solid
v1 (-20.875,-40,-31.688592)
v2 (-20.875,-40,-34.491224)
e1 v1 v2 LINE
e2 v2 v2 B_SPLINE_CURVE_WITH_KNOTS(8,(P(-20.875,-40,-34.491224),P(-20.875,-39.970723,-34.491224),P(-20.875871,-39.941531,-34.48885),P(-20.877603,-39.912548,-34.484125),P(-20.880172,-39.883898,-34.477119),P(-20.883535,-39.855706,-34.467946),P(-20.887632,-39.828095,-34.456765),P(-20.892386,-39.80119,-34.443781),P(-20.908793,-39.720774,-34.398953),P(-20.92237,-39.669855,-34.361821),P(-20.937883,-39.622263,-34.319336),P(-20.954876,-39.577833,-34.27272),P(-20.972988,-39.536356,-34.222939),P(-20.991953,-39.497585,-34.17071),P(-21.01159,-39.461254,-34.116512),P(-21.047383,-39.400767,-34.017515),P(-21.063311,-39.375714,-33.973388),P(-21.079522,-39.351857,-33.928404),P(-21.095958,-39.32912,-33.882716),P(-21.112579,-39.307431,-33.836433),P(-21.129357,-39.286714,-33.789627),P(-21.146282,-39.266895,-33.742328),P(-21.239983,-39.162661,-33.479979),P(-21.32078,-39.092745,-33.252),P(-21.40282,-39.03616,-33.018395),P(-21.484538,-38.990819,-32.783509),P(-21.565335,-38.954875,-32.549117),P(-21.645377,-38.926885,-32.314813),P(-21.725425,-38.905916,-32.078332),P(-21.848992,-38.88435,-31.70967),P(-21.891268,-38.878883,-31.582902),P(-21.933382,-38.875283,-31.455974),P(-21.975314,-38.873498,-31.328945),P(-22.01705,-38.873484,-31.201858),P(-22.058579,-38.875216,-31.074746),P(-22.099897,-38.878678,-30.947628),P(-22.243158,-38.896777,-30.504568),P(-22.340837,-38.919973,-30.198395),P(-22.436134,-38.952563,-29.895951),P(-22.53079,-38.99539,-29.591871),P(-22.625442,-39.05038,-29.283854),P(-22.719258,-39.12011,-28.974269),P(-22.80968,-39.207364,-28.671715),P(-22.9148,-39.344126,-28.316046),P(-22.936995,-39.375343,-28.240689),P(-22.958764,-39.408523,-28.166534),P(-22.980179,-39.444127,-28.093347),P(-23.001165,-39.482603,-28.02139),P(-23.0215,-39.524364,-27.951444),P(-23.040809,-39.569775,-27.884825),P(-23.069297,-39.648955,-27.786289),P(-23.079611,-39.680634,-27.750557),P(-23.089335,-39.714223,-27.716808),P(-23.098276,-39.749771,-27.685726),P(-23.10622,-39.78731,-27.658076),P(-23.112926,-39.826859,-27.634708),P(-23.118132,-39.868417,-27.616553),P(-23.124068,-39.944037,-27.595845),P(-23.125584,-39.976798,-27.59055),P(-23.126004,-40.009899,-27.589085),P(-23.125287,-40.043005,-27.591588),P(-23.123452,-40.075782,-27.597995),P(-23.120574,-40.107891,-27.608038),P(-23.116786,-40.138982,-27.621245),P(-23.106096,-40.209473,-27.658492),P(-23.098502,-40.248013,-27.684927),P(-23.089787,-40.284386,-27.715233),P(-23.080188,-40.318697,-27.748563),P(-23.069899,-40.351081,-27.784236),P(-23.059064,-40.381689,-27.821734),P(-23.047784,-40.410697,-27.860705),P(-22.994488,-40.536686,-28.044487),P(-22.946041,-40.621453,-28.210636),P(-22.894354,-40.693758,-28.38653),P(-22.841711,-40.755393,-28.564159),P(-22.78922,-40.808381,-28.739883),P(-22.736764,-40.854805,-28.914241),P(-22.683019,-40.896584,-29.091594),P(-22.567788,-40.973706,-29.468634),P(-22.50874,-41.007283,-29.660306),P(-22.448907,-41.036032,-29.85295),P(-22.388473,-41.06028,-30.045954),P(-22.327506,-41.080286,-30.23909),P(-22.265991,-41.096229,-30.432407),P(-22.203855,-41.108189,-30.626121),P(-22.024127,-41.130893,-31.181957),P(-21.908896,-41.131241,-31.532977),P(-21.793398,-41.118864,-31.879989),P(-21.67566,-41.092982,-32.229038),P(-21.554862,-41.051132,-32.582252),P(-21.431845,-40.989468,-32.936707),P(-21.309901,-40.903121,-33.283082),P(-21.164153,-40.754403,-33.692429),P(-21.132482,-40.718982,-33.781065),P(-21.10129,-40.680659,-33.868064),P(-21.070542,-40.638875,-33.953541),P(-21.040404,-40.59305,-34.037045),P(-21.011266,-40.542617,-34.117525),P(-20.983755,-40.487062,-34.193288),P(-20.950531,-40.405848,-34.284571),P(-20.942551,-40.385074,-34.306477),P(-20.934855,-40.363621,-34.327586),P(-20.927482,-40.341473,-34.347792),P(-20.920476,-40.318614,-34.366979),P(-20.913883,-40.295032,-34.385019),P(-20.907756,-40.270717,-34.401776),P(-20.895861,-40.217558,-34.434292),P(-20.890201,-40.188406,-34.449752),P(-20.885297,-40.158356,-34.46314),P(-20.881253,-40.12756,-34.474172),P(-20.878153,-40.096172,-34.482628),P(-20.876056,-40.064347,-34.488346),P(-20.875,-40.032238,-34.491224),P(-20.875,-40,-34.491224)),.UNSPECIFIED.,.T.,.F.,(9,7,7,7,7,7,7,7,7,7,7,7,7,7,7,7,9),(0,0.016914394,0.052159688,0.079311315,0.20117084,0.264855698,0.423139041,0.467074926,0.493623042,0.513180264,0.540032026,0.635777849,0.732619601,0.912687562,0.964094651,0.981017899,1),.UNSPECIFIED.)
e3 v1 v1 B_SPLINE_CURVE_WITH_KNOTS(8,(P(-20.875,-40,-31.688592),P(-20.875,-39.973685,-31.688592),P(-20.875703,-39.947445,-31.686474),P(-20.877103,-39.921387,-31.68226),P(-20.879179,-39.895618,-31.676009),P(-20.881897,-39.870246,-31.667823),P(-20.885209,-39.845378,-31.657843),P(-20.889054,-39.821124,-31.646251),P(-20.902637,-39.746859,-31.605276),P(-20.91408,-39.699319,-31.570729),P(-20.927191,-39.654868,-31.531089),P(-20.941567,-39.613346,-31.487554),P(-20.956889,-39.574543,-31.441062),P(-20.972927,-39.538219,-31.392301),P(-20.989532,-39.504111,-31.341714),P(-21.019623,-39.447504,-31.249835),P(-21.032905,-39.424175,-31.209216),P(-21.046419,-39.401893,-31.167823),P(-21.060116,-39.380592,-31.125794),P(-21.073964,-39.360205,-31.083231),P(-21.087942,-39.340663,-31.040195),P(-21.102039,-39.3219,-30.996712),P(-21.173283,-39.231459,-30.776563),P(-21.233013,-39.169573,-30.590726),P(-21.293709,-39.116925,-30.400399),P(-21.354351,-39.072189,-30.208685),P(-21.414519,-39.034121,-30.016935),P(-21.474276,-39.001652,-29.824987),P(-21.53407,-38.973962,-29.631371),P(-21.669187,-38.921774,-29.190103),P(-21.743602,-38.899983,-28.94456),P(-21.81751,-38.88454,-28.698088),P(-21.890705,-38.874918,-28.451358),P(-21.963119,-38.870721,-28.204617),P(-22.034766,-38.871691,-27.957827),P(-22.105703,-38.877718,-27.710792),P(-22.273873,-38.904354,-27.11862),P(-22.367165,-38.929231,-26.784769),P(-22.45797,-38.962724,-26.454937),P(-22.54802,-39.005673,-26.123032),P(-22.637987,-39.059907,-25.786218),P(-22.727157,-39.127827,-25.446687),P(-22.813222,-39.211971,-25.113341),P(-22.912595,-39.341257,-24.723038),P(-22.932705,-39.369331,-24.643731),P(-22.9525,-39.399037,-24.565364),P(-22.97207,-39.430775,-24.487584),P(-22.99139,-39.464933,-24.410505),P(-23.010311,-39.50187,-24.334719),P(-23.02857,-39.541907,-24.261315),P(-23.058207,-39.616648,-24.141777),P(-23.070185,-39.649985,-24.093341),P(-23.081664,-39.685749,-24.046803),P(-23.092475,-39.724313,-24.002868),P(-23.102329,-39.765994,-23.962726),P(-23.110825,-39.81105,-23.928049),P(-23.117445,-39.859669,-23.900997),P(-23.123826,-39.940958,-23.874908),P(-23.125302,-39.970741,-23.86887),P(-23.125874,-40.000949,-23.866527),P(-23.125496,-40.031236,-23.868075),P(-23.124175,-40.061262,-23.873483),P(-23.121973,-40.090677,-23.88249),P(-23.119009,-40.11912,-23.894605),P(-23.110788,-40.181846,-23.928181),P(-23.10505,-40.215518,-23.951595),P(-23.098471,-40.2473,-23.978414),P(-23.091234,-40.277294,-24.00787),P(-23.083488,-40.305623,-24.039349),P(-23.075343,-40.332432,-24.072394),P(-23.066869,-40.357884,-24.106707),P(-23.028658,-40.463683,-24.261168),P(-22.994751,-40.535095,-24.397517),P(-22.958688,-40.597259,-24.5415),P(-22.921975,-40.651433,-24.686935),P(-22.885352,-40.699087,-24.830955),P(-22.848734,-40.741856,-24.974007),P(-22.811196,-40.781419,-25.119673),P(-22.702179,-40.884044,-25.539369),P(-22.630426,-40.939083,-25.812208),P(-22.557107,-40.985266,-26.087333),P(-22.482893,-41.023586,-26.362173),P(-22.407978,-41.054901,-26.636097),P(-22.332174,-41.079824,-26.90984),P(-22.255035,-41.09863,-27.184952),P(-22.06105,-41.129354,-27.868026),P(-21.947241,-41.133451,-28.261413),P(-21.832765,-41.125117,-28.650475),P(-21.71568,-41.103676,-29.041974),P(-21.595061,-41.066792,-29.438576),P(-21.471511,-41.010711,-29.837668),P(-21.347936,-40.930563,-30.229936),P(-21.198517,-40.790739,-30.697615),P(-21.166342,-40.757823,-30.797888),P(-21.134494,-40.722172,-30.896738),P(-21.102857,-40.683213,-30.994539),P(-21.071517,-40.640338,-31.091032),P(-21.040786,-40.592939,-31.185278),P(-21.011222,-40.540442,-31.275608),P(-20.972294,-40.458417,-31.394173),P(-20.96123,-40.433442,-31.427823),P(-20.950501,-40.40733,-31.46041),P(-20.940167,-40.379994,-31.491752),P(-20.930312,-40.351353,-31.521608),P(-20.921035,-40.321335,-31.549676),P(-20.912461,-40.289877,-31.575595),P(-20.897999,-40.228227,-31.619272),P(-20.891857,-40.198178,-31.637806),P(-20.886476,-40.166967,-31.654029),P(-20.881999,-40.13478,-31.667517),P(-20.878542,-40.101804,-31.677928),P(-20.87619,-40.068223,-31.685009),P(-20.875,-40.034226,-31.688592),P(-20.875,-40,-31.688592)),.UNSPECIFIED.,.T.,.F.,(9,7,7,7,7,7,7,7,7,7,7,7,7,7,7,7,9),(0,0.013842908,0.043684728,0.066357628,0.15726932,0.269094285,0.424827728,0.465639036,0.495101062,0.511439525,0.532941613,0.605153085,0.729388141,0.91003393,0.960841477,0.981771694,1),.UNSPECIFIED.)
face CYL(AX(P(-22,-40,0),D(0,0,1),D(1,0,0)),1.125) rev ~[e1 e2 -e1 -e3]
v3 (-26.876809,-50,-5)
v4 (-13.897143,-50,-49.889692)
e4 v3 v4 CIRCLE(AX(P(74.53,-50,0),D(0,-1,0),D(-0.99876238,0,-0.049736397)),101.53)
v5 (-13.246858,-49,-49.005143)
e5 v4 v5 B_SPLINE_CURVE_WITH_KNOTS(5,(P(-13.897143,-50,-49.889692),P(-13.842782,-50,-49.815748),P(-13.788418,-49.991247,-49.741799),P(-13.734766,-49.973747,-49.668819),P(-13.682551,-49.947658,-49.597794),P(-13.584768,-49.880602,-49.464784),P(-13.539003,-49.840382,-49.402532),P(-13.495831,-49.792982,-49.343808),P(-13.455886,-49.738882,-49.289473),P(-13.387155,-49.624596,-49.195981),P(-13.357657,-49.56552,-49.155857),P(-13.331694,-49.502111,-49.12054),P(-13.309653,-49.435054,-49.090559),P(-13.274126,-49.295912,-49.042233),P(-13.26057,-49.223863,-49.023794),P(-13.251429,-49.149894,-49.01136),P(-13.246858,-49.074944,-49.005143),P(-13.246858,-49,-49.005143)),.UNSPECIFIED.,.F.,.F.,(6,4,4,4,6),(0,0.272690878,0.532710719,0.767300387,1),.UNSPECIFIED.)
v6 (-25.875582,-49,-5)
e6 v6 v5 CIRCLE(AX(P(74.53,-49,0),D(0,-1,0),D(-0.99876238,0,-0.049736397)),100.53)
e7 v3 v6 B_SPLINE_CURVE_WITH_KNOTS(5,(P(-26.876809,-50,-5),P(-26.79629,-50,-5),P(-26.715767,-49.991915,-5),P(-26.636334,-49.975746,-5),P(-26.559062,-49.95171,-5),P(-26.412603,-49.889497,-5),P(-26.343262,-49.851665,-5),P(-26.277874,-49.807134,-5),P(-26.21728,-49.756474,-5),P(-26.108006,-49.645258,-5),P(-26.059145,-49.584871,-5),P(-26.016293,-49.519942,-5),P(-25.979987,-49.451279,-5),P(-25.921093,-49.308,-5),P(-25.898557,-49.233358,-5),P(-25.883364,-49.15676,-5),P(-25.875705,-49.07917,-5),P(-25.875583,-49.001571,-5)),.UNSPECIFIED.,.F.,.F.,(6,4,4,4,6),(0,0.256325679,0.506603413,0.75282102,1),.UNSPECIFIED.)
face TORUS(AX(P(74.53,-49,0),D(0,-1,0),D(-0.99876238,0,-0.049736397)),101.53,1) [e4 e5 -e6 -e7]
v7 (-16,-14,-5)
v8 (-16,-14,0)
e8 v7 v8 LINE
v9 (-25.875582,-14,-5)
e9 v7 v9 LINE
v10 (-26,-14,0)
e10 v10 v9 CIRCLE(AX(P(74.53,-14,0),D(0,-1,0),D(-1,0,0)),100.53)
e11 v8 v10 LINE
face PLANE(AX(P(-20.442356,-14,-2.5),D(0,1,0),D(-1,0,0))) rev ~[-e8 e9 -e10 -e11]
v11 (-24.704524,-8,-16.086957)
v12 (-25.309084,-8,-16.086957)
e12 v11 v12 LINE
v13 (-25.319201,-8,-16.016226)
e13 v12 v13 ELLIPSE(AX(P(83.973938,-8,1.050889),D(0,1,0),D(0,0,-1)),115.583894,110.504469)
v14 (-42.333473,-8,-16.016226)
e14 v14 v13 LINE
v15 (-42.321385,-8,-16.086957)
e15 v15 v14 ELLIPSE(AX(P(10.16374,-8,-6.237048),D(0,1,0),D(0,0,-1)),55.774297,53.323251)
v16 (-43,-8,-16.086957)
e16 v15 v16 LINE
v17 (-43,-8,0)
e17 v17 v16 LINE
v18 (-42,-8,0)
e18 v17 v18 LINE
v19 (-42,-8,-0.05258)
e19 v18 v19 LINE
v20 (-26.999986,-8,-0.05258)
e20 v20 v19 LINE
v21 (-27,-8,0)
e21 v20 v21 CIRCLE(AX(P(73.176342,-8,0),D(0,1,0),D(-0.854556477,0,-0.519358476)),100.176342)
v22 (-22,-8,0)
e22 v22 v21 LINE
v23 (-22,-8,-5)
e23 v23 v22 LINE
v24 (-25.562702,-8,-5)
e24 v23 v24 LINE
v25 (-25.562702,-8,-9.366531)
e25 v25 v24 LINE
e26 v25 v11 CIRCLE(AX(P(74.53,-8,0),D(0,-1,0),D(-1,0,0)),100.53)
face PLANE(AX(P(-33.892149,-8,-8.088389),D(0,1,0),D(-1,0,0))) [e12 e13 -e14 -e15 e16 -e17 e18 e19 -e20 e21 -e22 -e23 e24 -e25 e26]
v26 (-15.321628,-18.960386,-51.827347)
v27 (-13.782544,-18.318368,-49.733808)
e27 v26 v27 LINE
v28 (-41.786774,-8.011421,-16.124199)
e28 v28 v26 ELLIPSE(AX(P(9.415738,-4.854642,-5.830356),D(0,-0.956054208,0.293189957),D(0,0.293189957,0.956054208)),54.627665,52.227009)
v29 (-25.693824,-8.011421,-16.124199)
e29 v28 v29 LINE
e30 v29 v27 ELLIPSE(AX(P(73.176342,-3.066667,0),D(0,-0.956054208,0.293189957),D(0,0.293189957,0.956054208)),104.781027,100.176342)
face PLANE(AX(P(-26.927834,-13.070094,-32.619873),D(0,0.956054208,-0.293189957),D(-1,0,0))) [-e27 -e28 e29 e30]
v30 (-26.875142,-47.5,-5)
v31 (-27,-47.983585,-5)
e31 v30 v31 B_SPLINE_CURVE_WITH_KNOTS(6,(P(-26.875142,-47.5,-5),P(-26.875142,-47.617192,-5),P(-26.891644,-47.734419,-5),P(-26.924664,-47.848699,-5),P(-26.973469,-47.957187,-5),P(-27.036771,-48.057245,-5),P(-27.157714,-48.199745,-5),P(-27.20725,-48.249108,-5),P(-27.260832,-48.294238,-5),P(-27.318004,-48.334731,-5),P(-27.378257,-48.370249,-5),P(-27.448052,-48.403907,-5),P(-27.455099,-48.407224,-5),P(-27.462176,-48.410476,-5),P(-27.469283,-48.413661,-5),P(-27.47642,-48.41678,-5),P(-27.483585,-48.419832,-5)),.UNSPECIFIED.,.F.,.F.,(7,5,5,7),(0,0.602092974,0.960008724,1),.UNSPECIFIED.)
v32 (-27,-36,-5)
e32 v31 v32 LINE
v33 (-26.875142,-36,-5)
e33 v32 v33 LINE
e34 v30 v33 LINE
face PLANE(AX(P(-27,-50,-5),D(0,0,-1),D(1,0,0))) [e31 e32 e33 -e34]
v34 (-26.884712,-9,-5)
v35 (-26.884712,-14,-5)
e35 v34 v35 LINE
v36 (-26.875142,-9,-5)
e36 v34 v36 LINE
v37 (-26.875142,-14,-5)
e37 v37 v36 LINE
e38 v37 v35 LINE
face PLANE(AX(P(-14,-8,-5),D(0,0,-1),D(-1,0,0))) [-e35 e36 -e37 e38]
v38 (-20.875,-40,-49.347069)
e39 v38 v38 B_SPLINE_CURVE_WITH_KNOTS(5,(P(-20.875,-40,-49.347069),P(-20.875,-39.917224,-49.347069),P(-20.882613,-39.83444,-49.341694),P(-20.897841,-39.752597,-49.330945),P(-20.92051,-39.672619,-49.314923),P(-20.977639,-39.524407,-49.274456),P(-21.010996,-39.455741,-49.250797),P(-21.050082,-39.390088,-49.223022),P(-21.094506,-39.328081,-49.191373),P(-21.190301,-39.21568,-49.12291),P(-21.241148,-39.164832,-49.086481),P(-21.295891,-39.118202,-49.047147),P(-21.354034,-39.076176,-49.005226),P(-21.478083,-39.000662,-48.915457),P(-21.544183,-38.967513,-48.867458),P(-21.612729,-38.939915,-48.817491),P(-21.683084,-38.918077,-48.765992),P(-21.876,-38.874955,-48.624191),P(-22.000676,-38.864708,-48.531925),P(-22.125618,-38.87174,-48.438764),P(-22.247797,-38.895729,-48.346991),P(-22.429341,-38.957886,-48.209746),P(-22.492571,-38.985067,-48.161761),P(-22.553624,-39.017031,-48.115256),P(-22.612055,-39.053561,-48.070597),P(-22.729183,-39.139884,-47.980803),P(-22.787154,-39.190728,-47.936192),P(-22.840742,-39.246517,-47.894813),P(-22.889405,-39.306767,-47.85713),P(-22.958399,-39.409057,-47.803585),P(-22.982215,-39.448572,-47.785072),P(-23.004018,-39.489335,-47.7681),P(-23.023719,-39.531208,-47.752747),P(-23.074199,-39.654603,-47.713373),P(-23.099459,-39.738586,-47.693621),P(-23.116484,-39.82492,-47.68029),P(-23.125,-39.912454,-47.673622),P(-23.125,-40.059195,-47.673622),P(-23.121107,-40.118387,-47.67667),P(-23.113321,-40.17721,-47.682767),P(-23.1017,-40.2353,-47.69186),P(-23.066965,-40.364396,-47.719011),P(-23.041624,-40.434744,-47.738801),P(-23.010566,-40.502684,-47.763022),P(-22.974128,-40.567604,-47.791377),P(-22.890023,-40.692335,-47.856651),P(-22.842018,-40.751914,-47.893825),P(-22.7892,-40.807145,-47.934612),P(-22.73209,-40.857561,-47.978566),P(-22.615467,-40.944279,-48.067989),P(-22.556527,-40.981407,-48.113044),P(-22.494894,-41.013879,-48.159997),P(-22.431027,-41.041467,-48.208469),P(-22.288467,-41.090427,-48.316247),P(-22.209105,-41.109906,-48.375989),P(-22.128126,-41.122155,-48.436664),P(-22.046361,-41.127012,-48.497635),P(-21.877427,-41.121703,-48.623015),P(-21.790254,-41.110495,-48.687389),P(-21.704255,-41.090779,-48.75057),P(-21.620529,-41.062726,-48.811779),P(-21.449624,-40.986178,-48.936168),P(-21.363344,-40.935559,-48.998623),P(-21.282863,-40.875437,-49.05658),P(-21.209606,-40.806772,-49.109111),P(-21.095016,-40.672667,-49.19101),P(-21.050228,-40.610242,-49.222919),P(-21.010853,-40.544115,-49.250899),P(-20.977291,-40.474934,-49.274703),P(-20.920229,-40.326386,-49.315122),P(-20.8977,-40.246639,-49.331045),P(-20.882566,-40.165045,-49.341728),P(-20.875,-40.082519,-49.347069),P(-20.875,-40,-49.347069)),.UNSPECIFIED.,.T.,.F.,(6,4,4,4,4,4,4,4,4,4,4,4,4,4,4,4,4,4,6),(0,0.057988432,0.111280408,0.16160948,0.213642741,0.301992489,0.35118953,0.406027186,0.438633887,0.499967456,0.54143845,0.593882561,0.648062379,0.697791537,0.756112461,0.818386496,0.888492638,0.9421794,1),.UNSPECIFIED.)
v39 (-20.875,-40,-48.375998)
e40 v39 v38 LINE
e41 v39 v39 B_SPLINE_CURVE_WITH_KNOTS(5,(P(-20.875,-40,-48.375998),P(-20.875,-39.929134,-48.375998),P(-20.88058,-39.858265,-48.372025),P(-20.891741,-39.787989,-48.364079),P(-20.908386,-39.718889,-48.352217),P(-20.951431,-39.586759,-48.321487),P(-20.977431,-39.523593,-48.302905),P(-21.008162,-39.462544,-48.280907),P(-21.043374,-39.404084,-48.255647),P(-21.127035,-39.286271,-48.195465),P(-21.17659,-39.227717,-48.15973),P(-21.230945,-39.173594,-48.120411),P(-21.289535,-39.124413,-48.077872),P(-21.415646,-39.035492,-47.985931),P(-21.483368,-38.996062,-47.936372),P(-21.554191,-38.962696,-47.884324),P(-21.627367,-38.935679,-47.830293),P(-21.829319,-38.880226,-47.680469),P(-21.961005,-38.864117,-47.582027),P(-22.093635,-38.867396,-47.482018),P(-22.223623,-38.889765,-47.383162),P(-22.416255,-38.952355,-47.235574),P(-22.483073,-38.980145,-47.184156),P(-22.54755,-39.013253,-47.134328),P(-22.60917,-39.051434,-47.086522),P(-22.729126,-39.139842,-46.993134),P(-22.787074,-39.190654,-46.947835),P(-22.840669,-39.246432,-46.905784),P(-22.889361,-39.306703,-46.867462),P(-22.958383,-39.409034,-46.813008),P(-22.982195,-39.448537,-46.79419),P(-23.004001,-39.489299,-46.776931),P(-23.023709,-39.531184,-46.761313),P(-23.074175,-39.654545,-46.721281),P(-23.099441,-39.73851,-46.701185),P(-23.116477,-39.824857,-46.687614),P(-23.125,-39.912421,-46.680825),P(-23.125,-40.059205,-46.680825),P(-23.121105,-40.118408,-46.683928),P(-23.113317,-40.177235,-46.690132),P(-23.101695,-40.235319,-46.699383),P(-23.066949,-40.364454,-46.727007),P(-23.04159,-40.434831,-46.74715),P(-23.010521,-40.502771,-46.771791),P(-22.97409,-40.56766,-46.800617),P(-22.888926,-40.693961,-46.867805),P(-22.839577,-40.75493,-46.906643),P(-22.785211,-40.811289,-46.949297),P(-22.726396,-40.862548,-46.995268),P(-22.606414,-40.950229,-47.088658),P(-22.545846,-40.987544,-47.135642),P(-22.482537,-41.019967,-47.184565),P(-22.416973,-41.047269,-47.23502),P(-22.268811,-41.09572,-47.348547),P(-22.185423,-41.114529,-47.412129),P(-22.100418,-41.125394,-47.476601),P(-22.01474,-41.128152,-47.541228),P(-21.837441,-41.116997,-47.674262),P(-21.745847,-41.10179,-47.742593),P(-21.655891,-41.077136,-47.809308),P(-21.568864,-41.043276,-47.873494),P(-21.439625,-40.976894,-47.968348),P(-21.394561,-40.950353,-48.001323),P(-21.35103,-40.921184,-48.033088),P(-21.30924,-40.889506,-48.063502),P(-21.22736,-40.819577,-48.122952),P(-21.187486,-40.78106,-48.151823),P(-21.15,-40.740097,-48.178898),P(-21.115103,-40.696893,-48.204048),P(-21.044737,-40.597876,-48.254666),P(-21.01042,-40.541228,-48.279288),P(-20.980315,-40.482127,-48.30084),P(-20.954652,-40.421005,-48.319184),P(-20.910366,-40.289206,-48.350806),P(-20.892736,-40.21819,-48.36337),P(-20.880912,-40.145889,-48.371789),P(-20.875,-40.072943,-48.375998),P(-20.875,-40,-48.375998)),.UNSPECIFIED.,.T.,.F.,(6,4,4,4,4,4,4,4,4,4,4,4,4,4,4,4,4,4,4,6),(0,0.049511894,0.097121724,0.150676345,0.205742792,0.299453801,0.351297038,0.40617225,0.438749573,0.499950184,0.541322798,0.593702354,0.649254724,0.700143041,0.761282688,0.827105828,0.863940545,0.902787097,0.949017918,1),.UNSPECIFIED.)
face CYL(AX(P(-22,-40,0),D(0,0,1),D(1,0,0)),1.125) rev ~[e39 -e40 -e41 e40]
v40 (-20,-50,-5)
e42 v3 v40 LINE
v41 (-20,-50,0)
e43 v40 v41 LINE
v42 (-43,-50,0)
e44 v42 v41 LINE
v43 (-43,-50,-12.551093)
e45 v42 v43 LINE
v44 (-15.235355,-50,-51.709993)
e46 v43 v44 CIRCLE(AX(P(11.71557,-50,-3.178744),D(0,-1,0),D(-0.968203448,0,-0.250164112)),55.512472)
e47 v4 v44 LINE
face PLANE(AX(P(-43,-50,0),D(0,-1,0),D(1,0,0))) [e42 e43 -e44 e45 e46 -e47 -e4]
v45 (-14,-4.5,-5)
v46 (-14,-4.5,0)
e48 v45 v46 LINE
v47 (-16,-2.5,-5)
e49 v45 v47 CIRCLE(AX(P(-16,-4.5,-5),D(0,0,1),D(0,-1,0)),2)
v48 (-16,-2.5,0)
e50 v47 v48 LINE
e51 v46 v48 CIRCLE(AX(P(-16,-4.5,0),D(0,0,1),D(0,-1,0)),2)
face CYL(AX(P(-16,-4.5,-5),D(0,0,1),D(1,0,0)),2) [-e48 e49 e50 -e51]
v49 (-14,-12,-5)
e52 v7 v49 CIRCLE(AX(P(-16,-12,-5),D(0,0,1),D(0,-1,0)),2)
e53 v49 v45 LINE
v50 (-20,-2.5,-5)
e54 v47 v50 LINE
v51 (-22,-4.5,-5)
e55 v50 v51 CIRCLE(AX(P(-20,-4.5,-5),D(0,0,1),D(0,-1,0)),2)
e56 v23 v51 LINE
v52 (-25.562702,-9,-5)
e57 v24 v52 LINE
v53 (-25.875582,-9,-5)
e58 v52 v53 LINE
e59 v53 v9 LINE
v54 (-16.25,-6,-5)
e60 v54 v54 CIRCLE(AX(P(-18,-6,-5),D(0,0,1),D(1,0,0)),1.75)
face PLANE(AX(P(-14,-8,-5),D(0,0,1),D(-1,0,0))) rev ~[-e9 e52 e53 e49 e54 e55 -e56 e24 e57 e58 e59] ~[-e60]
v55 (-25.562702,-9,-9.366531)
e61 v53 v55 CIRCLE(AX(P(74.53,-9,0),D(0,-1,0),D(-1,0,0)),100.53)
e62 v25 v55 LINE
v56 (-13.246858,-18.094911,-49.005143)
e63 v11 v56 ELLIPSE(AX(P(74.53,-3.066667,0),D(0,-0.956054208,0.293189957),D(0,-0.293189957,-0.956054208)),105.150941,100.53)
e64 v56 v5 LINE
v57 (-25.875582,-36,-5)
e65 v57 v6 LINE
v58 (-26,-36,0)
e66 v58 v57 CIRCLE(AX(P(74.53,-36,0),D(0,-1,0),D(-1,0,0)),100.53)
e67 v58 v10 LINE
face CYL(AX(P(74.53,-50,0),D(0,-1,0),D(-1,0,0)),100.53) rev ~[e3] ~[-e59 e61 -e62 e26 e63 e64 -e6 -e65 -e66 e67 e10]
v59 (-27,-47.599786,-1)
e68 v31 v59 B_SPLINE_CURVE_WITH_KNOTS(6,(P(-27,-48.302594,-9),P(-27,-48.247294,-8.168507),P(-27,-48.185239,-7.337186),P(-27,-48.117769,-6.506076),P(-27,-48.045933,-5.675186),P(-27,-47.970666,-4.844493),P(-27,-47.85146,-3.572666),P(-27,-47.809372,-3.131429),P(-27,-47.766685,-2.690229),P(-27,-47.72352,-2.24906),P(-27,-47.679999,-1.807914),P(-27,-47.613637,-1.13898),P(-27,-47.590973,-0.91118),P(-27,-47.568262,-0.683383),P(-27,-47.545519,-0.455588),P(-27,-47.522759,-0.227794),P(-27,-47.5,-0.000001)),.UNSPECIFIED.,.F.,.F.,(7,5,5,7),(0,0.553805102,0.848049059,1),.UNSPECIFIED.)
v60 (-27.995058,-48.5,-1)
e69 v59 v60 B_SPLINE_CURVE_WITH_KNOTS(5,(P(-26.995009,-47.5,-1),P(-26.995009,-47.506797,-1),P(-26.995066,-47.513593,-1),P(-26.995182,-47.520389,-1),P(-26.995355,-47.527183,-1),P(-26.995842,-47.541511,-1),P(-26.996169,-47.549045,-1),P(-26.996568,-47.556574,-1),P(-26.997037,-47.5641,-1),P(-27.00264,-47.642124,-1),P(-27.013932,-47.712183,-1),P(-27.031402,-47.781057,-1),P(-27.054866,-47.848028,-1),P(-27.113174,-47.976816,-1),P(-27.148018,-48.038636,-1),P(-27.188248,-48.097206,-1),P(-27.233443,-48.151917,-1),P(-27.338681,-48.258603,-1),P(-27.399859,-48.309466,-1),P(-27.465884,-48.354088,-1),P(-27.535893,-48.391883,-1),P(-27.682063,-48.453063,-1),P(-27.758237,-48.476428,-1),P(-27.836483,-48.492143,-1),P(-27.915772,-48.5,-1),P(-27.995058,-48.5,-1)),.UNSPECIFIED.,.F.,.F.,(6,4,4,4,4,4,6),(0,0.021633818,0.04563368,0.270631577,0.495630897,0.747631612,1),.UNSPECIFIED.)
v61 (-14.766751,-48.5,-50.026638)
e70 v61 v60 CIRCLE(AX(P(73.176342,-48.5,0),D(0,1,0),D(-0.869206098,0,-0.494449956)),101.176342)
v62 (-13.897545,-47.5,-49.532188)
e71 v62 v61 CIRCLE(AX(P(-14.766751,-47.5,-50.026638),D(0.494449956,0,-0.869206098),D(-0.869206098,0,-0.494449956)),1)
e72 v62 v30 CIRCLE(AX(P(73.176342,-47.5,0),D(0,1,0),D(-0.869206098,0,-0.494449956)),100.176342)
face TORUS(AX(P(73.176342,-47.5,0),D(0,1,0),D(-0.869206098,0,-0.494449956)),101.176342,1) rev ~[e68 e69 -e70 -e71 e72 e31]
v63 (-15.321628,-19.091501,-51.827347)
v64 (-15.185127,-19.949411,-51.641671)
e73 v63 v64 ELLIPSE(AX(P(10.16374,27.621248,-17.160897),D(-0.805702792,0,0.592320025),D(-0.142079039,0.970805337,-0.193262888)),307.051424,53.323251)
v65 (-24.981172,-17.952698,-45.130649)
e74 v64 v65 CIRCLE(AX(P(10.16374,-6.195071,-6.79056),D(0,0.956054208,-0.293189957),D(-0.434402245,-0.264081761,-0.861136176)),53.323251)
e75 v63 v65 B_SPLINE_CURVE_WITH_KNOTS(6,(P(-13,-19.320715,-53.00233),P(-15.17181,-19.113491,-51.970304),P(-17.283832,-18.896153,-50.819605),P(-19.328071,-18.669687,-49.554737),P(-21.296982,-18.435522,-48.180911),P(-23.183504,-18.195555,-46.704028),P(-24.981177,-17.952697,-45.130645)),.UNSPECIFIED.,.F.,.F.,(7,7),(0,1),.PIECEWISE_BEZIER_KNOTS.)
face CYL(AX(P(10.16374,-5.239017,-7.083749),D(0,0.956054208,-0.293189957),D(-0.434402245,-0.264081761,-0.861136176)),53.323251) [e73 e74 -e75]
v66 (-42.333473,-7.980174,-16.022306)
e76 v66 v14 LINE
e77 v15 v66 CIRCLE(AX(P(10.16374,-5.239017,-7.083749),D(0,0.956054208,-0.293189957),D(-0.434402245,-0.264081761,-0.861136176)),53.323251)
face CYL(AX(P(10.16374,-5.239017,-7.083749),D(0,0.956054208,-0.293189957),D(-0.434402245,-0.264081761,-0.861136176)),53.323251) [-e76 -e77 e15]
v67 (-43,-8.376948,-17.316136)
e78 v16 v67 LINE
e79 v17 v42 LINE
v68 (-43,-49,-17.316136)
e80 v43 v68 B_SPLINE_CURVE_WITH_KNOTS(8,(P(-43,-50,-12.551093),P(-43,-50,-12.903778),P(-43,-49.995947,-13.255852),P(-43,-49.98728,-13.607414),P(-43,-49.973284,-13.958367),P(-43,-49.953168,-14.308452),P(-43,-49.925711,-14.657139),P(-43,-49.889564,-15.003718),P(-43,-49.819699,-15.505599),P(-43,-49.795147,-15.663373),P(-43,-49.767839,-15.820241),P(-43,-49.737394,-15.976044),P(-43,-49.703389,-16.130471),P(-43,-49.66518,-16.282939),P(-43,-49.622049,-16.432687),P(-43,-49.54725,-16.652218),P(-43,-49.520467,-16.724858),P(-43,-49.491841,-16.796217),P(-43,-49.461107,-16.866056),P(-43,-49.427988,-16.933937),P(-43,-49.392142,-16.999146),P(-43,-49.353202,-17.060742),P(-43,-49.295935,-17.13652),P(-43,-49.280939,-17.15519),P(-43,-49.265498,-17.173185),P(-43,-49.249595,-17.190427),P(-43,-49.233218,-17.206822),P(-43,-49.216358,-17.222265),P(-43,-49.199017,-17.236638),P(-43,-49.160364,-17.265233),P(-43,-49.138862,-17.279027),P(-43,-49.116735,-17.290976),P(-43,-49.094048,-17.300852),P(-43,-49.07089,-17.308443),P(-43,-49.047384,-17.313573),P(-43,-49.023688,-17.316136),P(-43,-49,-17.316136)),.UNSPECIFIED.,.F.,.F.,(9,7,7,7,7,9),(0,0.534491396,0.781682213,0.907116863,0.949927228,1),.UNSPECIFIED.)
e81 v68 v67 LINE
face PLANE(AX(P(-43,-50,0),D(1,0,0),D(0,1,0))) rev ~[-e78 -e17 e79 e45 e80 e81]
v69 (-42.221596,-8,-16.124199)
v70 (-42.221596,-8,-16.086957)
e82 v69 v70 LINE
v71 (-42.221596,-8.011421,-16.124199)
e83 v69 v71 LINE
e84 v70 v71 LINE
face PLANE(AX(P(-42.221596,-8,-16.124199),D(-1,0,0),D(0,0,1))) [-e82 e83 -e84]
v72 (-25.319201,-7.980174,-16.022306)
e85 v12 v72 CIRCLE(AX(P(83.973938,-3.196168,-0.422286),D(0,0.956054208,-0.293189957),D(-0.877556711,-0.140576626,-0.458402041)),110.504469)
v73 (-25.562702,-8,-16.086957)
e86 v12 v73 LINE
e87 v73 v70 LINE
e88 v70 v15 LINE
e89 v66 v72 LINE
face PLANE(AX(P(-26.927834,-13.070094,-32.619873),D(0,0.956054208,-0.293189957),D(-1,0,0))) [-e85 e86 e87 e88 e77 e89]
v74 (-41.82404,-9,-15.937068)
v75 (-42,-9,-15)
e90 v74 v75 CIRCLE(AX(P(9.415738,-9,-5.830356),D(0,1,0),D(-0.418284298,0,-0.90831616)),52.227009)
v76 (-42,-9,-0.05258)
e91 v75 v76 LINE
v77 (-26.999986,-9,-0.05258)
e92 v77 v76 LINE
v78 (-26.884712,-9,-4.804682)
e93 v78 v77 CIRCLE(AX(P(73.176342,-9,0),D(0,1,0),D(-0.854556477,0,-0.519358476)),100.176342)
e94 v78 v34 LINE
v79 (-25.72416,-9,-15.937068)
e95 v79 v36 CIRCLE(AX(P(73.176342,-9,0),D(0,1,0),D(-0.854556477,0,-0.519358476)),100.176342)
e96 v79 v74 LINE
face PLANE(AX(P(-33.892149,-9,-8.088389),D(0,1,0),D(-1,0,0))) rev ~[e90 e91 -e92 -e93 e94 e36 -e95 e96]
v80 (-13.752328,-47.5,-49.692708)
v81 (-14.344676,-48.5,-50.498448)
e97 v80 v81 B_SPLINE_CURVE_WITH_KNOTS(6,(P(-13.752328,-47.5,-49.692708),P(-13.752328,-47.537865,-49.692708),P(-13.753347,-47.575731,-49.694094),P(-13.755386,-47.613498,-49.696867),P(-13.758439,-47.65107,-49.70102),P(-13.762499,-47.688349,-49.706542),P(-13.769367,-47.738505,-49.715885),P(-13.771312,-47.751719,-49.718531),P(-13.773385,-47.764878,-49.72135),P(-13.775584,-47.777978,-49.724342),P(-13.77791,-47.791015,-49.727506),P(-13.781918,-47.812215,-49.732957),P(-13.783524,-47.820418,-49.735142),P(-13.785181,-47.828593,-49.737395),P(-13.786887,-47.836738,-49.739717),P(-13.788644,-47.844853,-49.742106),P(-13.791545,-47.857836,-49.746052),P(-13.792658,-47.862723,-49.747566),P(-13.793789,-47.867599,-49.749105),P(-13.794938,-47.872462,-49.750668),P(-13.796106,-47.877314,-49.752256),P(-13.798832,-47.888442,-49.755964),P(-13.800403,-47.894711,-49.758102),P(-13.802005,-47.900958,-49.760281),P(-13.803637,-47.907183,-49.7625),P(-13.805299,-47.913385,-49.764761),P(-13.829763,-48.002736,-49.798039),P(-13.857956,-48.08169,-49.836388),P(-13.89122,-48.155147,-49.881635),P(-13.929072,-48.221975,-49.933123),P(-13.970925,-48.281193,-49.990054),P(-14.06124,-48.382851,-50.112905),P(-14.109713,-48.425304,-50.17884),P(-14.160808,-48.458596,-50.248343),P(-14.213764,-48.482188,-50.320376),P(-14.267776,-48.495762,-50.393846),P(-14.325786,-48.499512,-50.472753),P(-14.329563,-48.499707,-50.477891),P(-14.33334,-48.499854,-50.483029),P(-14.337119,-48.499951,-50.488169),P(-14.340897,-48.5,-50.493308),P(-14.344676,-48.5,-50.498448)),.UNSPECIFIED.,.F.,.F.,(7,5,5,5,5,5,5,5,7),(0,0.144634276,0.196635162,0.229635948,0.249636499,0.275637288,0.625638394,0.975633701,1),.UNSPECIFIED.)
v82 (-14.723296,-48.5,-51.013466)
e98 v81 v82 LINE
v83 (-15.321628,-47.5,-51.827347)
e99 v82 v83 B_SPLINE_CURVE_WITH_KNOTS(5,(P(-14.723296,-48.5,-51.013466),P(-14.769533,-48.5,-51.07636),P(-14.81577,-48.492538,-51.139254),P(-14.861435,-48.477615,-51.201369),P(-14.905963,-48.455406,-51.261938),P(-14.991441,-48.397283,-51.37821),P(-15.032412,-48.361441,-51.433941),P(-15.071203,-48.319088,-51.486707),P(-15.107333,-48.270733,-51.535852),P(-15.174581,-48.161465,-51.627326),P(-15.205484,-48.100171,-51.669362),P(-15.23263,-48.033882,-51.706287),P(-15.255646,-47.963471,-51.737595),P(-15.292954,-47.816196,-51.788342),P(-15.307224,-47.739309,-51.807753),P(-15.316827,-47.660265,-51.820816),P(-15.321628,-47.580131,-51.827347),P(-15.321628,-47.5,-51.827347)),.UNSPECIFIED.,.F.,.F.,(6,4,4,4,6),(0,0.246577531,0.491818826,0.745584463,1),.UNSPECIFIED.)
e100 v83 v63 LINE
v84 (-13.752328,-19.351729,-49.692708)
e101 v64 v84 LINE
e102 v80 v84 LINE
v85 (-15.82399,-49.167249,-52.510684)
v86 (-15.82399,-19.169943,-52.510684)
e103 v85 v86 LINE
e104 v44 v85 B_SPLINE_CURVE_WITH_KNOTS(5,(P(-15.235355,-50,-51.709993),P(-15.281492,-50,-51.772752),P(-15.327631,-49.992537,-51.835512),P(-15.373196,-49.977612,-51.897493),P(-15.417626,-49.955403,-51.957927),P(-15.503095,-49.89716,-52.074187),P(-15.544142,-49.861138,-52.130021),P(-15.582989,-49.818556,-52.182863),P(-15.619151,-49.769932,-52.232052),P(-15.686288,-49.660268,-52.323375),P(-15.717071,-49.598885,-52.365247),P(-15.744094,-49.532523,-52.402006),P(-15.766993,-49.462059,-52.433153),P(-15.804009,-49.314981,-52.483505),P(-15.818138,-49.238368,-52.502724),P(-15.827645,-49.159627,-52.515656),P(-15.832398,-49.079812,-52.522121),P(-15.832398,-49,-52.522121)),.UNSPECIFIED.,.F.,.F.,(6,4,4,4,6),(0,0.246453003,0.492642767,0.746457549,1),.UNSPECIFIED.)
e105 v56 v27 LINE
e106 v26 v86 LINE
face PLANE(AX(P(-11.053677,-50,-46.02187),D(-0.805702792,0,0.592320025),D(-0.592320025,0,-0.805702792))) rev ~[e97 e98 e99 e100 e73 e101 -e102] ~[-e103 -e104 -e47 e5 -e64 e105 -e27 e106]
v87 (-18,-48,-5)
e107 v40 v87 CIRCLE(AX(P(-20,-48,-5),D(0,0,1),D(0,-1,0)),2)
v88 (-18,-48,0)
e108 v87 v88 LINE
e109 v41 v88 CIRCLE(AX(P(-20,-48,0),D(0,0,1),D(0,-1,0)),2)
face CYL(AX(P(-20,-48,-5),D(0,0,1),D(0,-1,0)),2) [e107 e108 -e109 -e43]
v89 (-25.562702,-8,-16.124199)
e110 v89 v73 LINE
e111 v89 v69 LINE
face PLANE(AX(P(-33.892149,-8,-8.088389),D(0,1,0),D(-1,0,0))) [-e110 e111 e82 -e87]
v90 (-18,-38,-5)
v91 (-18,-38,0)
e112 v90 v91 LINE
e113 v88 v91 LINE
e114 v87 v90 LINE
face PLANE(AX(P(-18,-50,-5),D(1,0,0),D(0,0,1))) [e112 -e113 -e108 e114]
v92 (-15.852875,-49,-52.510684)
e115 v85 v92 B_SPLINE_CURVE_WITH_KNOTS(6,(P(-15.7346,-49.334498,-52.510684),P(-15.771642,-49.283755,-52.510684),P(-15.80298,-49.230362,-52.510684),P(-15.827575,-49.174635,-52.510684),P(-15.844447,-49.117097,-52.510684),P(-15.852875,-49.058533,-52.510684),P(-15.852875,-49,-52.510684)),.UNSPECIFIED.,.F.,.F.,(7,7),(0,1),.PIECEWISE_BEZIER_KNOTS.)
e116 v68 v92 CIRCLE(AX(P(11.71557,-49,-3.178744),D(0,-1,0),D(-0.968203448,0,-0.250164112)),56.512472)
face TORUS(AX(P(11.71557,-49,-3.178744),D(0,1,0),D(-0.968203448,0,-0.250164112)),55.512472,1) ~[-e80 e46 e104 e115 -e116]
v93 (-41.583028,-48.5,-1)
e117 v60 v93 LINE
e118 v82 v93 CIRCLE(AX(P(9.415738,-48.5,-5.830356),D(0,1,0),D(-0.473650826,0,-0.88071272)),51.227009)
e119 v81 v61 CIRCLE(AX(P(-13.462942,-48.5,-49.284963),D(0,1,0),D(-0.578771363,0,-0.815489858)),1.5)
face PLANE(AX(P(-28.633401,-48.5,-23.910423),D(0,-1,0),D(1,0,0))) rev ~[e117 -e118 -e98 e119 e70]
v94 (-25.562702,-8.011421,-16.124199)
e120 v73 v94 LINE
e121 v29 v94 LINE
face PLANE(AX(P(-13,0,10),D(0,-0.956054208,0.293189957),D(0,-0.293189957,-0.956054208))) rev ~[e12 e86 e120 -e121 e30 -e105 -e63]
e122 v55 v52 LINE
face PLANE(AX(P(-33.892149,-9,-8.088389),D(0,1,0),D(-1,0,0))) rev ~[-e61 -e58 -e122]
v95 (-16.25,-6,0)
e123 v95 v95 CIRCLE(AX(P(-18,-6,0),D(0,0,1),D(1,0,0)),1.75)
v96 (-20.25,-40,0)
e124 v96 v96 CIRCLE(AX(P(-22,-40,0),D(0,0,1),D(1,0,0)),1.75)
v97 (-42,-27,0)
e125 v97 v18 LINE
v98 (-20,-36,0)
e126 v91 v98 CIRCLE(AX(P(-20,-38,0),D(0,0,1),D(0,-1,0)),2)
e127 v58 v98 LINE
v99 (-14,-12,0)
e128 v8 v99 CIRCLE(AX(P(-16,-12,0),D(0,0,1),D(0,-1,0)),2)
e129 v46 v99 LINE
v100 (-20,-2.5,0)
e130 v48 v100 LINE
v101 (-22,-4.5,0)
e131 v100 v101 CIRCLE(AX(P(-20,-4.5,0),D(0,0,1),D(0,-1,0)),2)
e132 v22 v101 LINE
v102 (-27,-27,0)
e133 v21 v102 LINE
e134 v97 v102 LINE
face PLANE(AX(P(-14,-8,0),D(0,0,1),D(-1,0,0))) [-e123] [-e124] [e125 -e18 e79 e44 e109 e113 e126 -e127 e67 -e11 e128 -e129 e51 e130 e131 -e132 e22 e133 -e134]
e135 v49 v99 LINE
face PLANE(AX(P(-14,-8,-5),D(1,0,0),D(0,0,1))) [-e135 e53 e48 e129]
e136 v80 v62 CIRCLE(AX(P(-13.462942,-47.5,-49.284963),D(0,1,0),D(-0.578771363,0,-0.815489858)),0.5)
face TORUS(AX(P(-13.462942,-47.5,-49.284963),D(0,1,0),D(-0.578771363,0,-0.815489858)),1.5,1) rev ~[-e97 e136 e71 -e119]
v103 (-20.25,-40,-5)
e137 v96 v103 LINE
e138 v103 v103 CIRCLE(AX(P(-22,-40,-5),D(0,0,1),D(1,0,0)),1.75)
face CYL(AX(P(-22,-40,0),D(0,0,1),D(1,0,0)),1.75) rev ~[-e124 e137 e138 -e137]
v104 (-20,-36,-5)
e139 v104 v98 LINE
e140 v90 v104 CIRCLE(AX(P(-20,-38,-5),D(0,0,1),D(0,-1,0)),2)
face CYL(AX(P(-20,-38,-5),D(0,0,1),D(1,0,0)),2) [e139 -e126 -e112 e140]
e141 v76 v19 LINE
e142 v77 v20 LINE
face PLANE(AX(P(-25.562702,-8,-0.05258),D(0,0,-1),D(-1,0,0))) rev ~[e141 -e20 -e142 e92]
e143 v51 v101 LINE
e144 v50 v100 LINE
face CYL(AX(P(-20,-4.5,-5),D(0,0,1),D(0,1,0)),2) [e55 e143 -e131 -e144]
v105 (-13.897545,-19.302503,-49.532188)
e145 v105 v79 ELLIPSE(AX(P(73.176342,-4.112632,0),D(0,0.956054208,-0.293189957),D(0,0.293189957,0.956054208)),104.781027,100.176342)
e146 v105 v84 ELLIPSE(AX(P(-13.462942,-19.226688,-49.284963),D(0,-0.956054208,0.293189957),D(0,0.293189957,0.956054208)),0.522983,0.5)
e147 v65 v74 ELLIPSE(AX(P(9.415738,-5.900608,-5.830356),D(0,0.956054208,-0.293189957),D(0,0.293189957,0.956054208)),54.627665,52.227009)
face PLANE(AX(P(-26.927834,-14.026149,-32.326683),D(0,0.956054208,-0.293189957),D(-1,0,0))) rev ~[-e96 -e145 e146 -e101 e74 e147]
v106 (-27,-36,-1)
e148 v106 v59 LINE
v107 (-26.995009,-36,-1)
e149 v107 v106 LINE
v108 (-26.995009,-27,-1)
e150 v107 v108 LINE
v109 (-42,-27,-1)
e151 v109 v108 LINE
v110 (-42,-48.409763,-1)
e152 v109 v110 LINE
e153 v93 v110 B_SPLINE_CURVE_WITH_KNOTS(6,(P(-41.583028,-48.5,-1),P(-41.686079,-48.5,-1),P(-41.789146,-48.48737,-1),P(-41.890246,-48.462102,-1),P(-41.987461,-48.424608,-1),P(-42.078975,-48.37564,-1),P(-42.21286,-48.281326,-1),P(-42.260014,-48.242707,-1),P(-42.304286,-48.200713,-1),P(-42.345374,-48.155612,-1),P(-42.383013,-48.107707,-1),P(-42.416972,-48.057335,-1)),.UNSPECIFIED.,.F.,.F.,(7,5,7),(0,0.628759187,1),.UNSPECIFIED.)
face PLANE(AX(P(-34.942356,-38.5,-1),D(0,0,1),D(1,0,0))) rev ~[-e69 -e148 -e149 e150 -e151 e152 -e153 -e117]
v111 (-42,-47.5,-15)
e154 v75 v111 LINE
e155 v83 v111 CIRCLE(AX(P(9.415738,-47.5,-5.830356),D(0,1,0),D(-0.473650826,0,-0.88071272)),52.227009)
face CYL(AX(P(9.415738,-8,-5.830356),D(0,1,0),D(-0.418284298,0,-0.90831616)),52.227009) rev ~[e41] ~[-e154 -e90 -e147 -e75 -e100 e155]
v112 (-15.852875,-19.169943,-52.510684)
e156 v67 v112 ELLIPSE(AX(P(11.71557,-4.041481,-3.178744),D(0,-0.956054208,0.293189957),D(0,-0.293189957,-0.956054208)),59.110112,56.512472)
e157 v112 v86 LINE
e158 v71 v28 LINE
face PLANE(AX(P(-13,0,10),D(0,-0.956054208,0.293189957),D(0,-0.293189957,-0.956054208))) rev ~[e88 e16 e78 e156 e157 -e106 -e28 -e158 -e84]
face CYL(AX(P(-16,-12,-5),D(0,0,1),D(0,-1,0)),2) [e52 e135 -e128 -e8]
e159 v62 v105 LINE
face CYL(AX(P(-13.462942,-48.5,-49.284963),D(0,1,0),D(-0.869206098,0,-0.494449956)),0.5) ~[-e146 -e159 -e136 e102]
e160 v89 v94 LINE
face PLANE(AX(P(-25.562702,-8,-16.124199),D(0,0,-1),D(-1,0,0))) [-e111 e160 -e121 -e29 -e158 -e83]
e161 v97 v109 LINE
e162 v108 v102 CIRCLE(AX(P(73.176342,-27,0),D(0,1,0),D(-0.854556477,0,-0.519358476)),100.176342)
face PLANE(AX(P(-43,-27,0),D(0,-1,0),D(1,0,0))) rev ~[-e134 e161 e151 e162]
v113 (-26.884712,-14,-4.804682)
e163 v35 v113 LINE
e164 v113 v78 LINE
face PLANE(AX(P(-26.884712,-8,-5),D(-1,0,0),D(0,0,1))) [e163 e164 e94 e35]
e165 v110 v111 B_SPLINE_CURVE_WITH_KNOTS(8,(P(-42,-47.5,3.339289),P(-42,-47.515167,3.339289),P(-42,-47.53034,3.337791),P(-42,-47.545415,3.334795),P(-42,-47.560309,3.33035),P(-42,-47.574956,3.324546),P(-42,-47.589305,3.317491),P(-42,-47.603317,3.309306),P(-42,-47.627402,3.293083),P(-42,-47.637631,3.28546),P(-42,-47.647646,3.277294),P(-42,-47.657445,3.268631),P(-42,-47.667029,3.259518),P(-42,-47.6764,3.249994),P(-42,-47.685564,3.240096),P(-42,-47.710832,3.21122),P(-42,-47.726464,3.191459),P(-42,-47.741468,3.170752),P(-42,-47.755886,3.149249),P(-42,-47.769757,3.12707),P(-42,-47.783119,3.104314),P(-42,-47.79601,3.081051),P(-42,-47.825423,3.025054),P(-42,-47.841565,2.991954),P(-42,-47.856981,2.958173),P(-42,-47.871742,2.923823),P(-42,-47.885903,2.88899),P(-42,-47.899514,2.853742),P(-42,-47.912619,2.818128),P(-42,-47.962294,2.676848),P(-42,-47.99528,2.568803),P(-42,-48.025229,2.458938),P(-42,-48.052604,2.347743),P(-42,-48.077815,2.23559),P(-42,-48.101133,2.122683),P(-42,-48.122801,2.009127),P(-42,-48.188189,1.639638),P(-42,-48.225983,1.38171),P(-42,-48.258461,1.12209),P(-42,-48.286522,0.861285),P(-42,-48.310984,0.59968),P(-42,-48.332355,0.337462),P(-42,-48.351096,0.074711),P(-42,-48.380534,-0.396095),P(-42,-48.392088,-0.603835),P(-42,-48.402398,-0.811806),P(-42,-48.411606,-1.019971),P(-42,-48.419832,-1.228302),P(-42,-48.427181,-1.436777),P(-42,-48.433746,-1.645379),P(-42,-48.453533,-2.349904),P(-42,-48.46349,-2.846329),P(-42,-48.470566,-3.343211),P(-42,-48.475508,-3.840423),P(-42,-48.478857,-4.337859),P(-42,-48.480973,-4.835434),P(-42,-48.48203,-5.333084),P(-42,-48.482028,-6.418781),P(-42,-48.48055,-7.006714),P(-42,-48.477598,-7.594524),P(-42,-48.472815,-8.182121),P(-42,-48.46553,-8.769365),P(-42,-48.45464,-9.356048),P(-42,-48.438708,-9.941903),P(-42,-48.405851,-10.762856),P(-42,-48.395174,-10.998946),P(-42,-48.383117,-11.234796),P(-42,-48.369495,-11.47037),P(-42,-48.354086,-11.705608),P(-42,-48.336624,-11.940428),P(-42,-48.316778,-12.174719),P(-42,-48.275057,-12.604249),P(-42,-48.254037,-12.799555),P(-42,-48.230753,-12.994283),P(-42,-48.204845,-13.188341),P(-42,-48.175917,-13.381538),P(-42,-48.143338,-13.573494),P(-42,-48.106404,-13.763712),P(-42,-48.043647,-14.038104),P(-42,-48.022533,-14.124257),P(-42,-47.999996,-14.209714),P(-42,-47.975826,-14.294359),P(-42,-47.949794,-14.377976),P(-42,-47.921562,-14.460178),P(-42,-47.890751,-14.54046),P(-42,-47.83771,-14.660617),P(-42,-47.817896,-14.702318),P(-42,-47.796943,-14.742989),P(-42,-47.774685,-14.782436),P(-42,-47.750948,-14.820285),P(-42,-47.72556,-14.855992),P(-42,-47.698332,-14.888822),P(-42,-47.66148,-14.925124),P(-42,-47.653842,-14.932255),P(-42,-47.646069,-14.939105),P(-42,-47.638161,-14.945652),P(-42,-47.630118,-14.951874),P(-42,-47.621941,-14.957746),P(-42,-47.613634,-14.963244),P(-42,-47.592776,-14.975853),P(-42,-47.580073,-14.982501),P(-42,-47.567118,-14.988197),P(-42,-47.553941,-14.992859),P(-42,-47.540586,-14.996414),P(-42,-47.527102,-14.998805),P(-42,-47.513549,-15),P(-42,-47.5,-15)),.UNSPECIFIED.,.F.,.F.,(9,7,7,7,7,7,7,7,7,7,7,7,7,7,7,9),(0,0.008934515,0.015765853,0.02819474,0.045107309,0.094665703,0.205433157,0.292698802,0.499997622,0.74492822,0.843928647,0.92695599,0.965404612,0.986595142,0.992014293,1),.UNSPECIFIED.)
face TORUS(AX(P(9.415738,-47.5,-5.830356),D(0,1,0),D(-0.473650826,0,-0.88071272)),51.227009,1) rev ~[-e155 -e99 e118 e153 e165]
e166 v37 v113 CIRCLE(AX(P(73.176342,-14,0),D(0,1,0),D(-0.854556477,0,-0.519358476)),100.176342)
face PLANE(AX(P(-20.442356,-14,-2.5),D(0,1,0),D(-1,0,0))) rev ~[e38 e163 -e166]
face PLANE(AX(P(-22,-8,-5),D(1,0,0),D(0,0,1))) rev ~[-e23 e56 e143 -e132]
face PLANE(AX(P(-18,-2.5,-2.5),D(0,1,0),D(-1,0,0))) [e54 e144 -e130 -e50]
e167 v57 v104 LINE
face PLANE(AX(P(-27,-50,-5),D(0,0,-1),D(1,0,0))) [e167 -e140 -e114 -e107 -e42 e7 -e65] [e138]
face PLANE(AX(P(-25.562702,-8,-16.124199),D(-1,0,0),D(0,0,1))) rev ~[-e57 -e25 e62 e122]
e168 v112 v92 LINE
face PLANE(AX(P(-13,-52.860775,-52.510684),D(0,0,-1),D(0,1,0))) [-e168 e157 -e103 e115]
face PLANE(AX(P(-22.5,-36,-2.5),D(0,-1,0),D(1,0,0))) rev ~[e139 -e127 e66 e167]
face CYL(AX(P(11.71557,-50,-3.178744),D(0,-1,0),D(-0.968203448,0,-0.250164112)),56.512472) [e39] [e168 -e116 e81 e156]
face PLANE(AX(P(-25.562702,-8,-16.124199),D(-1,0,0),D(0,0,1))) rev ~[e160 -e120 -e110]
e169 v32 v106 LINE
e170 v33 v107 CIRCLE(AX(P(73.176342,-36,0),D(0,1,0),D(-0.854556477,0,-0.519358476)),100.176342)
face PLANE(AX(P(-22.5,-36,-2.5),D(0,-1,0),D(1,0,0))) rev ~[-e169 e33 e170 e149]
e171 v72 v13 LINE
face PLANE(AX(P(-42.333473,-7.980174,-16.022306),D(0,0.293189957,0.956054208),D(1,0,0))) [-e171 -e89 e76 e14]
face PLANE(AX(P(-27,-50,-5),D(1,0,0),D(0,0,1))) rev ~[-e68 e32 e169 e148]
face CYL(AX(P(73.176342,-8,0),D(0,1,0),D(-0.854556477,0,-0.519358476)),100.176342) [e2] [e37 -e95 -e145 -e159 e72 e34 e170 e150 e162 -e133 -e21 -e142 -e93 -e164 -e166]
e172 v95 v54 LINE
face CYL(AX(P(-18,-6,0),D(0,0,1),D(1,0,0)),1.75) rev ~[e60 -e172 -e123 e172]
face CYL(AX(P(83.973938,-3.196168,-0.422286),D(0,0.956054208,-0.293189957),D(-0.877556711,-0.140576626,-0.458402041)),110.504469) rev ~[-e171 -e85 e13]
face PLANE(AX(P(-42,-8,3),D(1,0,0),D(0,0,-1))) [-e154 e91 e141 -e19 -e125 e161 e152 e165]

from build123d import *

# Parameters (mm, degrees)
SKETCH_W        = 30
SKETCH_H        = 42
PAD_DEPTH       = 54
POCKET_DEPTH    = 42.001
POCKET001_DEPTH = 30.001
POCKET002_DEPTH = 42.001
POCKET003_DEPTH = 40.5
SKETCH005_W     = 12.884712
SKETCH005_H     = 5
PAD001_DEPTH    = 6
SKETCH006_W     = 8
SKETCH006_H     = 5
PAD002_DEPTH    = 5.5
SKETCH007_W     = 9
SKETCH007_H     = 5
PAD003_DEPTH    = 14
SKETCH009_R     = 1.75
POCKET004_DEPTH = 6
SKETCH010_W     = 16.115288
SKETCH010_H     = 23
PAD004_DEPTH    = 1
SKETCH011_W     = 16.658894
SKETCH011_H     = 16.071619
PAD005_DEPTH    = 1
PAD006_DEPTH    = 1
SKETCH015_R     = 1.125
POCKET005_DEPTH = 54.001
CHAMFER_SIZE    = 1.4
FILLET_R        = 0.5
SKETCH014_W     = 37.032941
SKETCH014_H     = 8.623624
POCKET006_DEPTH = 5
POCKET007_DEPTH = 47.501
FILLET001_R     = 2
FILLET002_R     = 1
FILLET003_R     = 1
FILLET004_R     = 1
FILLET005_R     = 1


with BuildPart() as part:
    # Sketch → Pad (new body)
    with BuildSketch(Plane.XY):
        with Locations((-28, -29)):
            Rectangle(SKETCH_W, SKETCH_H)
    extrude(amount=-PAD_DEPTH)

    # Sketch001 (on Face3 of Pad) → Pocket (cut, through all)
    with BuildSketch(Plane.XZ.offset(50)):
        with BuildLine():
            ThreePointArc((-43, -17.3161363132), (-32.0308923047, -38.9545248813), (-13, -54))
            Line((-13, -54), (-82.3272746231, -71.6955218441))
            Line((-82.3272746231, -71.6955218441), (-43, -17.3161363132))
        make_face()
    extrude(amount=-POCKET_DEPTH, mode=Mode.SUBTRACT)

    # Sketch002 (on Face3 of Pocket) → Pocket001 (cut, through all)
    with BuildSketch(Plane.YZ.offset(-13)):
        Polygon((0, 10), (-23, -65), (20.1488759761, -57.2462846327), align=None)
    extrude(amount=-POCKET001_DEPTH, mode=Mode.SUBTRACT)

    # Sketch004 (on Face6 of Pocket001) → Pocket002 (cut, through all)
    with BuildSketch(Plane.XZ.offset(50)):
        with BuildLine():
            ThreePointArc((-26, 0), (-13.3232341465, -48.8680892812), (21.51, -85.4117117262))
            Line((21.51, -85.4117117262), (74.53, 0))
            Line((-26, 0), (74.53, 0))
        make_face()
    extrude(amount=-POCKET002_DEPTH, mode=Mode.SUBTRACT)

    # Sketch003 (on Face1 of Pocket002) → Pocket003 (cut)
    with BuildSketch(Plane(origin=(0, -8, 0), x_dir=(-1, 0, 0), z_dir=(0, 1, 0))):
        with BuildLine():
            Line((42, 3), (42, -15))
            ThreePointArc((12.43, -53.2689919013), (31.9114915655, -37.7634197527), (42, -15))
            Line((12.43, -52.0274321222), (12.43, -53.2689919013))
            ThreePointArc((12.43, -52.0274321222), (23.2887545115, -27.0145266164), (27, 0))
            Line((27, 3), (27, 0))
            Line((42, 3), (27, 3))
        make_face()
    extrude(amount=-POCKET003_DEPTH, mode=Mode.SUBTRACT)

    # Sketch005 (on Face1 of Pocket003) → Pad001 (join)
    with BuildSketch(Plane(origin=(0, -8, 0), x_dir=(-1, 0, 0), z_dir=(0, 1, 0))):
        with Locations((20.442356, -2.5)):
            Rectangle(SKETCH005_W, SKETCH005_H)
    extrude(amount=-PAD001_DEPTH)

    # Sketch006 (on Face12 of Pad001) → Pad002 (join)
    with BuildSketch(Plane(origin=(0, -8, 0), x_dir=(-1, 0, 0), z_dir=(0, 1, 0))):
        with Locations((18, -2.5)):
            Rectangle(SKETCH006_W, SKETCH006_H)
    extrude(amount=PAD002_DEPTH)

    # Sketch007 (on Face11 of Pad002) → Pad003 (join)
    with BuildSketch(Plane.XZ.offset(50)):
        with Locations((-22.5, -2.5)):
            Rectangle(SKETCH007_W, SKETCH007_H)
    extrude(amount=-PAD003_DEPTH)

    # Sketch009 (on Face25 of Pad003) → Pocket004 (cut)
    with BuildSketch(Plane.XY):
        with Locations((-18, -6)):
            Circle(SKETCH009_R)
        with Locations((-22, -40)):
            Circle(SKETCH009_R)
    extrude(amount=-POCKET004_DEPTH, mode=Mode.SUBTRACT)

    # Sketch010 (on Face27 of Pocket004) → Pad004 (join)
    with BuildSketch(Plane.XY):
        with Locations((-34.942356, -38.5)):
            Rectangle(SKETCH010_W, SKETCH010_H)
    extrude(amount=-PAD004_DEPTH)

    # Sketch011 (on Face49 of Pad004) → Pad005 (join)
    with BuildSketch(Plane(origin=(0, -8, 0), x_dir=(-1, 0, 0), z_dir=(0, 1, 0))):
        with Locations((33.892149, -8.0883895)):
            Rectangle(SKETCH011_W, SKETCH011_H)
    extrude(amount=-PAD005_DEPTH)

    # Sketch013 (on Face47 of Pad005) → Pad006 (join)
    with BuildSketch(Plane(origin=(0, -2.8030549236, 0.8596035099), x_dir=(-1, 0, 0), z_dir=(0, 0.9560542082, -0.2931899572))):
        with BuildLine():
            Line((42.333473, -17.6579), (25.319201, -17.6579))
            ThreePointArc((13, -54.3247056888), (20.7764339487, -36.5345215912), (25.319201, -17.6579))
            Line((13, -54.3247056888), (13, -56.3377401542))
            ThreePointArc((13, -56.3377401542), (32.3236400181, -40.5294570505), (42.333473, -17.6579))
        make_face()
    extrude(amount=-PAD006_DEPTH)

    # Sketch015 (on Face37 of Pad006) → Pocket005 (cut, through all)
    with BuildSketch(Plane.XY):
        with Locations((-22, -40)):
            Circle(SKETCH015_R)
    extrude(amount=-POCKET005_DEPTH, mode=Mode.SUBTRACT)

    # Chamfer
    chamfer_edges = [part.edges().sort_by_distance(p)[0] for p in [
        (-13, -34.138239, -51.07776),
    ]]
    chamfer(chamfer_edges, length=CHAMFER_SIZE)

    # Fillet
    fillet_edges = [part.edges().sort_by_distance(p)[0] for p in [
        (-13.705397, -33.952813, -49.868456),
    ]]
    fillet(fillet_edges, radius=FILLET_R)

    # Sketch014 → Pocket006 (cut)
    with BuildSketch(Plane.YZ.offset(-13)):
        with Locations((-34.3443045, -56.822496)):
            Rectangle(SKETCH014_W, SKETCH014_H)
    extrude(amount=-POCKET006_DEPTH, mode=Mode.SUBTRACT)

    # Sketch017 (on Face39 of Pocket006) → Pocket007 (cut, through all)
    with BuildSketch(Plane.XZ.offset(50)):
        Polygon((-11.053677, -46.02187), (-17.304024, -54.523899), (-5.308009, -55.921494), align=None)
    extrude(amount=-POCKET007_DEPTH, mode=Mode.SUBTRACT)

    # Fillet001
    fillet001_edges = [part.edges().sort_by_distance(p)[0] for p in [
        (-18, -36, -2.5),
        (-22, -2.5, -2.5),
        (-14, -2.5, -2.5),
        (-14, -14, -2.5),
        (-18, -50, -2.5),
    ]]
    fillet(fillet001_edges, radius=FILLET001_R)

    # Fillet002
    fillet002_edges = [part.edges().sort_by_distance(p)[0] for p in [
        (-33.031819, -50, -37.694402),
    ]]
    fillet(fillet002_edges, radius=FILLET002_R)

    # Fillet003
    fillet003_edges = [part.edges().sort_by_distance(p)[0] for p in [
        (-22.099555, -50, -27.73103),
    ]]
    fillet(fillet003_edges, radius=FILLET003_R)

    # Fillet004
    fillet004_edges = [part.edges().sort_by_distance(p)[0] for p in [
        (-22.999305, -48.5, -28.027565),
    ]]
    fillet(fillet004_edges, radius=FILLET004_R)

    # Fillet005
    fillet005_edges = [part.edges().sort_by_distance(p)[0] for p in [
        (-32.8795, -48.5, -36.469763),
    ]]
    fillet(fillet005_edges, radius=FILLET005_R)


solid = part.part
